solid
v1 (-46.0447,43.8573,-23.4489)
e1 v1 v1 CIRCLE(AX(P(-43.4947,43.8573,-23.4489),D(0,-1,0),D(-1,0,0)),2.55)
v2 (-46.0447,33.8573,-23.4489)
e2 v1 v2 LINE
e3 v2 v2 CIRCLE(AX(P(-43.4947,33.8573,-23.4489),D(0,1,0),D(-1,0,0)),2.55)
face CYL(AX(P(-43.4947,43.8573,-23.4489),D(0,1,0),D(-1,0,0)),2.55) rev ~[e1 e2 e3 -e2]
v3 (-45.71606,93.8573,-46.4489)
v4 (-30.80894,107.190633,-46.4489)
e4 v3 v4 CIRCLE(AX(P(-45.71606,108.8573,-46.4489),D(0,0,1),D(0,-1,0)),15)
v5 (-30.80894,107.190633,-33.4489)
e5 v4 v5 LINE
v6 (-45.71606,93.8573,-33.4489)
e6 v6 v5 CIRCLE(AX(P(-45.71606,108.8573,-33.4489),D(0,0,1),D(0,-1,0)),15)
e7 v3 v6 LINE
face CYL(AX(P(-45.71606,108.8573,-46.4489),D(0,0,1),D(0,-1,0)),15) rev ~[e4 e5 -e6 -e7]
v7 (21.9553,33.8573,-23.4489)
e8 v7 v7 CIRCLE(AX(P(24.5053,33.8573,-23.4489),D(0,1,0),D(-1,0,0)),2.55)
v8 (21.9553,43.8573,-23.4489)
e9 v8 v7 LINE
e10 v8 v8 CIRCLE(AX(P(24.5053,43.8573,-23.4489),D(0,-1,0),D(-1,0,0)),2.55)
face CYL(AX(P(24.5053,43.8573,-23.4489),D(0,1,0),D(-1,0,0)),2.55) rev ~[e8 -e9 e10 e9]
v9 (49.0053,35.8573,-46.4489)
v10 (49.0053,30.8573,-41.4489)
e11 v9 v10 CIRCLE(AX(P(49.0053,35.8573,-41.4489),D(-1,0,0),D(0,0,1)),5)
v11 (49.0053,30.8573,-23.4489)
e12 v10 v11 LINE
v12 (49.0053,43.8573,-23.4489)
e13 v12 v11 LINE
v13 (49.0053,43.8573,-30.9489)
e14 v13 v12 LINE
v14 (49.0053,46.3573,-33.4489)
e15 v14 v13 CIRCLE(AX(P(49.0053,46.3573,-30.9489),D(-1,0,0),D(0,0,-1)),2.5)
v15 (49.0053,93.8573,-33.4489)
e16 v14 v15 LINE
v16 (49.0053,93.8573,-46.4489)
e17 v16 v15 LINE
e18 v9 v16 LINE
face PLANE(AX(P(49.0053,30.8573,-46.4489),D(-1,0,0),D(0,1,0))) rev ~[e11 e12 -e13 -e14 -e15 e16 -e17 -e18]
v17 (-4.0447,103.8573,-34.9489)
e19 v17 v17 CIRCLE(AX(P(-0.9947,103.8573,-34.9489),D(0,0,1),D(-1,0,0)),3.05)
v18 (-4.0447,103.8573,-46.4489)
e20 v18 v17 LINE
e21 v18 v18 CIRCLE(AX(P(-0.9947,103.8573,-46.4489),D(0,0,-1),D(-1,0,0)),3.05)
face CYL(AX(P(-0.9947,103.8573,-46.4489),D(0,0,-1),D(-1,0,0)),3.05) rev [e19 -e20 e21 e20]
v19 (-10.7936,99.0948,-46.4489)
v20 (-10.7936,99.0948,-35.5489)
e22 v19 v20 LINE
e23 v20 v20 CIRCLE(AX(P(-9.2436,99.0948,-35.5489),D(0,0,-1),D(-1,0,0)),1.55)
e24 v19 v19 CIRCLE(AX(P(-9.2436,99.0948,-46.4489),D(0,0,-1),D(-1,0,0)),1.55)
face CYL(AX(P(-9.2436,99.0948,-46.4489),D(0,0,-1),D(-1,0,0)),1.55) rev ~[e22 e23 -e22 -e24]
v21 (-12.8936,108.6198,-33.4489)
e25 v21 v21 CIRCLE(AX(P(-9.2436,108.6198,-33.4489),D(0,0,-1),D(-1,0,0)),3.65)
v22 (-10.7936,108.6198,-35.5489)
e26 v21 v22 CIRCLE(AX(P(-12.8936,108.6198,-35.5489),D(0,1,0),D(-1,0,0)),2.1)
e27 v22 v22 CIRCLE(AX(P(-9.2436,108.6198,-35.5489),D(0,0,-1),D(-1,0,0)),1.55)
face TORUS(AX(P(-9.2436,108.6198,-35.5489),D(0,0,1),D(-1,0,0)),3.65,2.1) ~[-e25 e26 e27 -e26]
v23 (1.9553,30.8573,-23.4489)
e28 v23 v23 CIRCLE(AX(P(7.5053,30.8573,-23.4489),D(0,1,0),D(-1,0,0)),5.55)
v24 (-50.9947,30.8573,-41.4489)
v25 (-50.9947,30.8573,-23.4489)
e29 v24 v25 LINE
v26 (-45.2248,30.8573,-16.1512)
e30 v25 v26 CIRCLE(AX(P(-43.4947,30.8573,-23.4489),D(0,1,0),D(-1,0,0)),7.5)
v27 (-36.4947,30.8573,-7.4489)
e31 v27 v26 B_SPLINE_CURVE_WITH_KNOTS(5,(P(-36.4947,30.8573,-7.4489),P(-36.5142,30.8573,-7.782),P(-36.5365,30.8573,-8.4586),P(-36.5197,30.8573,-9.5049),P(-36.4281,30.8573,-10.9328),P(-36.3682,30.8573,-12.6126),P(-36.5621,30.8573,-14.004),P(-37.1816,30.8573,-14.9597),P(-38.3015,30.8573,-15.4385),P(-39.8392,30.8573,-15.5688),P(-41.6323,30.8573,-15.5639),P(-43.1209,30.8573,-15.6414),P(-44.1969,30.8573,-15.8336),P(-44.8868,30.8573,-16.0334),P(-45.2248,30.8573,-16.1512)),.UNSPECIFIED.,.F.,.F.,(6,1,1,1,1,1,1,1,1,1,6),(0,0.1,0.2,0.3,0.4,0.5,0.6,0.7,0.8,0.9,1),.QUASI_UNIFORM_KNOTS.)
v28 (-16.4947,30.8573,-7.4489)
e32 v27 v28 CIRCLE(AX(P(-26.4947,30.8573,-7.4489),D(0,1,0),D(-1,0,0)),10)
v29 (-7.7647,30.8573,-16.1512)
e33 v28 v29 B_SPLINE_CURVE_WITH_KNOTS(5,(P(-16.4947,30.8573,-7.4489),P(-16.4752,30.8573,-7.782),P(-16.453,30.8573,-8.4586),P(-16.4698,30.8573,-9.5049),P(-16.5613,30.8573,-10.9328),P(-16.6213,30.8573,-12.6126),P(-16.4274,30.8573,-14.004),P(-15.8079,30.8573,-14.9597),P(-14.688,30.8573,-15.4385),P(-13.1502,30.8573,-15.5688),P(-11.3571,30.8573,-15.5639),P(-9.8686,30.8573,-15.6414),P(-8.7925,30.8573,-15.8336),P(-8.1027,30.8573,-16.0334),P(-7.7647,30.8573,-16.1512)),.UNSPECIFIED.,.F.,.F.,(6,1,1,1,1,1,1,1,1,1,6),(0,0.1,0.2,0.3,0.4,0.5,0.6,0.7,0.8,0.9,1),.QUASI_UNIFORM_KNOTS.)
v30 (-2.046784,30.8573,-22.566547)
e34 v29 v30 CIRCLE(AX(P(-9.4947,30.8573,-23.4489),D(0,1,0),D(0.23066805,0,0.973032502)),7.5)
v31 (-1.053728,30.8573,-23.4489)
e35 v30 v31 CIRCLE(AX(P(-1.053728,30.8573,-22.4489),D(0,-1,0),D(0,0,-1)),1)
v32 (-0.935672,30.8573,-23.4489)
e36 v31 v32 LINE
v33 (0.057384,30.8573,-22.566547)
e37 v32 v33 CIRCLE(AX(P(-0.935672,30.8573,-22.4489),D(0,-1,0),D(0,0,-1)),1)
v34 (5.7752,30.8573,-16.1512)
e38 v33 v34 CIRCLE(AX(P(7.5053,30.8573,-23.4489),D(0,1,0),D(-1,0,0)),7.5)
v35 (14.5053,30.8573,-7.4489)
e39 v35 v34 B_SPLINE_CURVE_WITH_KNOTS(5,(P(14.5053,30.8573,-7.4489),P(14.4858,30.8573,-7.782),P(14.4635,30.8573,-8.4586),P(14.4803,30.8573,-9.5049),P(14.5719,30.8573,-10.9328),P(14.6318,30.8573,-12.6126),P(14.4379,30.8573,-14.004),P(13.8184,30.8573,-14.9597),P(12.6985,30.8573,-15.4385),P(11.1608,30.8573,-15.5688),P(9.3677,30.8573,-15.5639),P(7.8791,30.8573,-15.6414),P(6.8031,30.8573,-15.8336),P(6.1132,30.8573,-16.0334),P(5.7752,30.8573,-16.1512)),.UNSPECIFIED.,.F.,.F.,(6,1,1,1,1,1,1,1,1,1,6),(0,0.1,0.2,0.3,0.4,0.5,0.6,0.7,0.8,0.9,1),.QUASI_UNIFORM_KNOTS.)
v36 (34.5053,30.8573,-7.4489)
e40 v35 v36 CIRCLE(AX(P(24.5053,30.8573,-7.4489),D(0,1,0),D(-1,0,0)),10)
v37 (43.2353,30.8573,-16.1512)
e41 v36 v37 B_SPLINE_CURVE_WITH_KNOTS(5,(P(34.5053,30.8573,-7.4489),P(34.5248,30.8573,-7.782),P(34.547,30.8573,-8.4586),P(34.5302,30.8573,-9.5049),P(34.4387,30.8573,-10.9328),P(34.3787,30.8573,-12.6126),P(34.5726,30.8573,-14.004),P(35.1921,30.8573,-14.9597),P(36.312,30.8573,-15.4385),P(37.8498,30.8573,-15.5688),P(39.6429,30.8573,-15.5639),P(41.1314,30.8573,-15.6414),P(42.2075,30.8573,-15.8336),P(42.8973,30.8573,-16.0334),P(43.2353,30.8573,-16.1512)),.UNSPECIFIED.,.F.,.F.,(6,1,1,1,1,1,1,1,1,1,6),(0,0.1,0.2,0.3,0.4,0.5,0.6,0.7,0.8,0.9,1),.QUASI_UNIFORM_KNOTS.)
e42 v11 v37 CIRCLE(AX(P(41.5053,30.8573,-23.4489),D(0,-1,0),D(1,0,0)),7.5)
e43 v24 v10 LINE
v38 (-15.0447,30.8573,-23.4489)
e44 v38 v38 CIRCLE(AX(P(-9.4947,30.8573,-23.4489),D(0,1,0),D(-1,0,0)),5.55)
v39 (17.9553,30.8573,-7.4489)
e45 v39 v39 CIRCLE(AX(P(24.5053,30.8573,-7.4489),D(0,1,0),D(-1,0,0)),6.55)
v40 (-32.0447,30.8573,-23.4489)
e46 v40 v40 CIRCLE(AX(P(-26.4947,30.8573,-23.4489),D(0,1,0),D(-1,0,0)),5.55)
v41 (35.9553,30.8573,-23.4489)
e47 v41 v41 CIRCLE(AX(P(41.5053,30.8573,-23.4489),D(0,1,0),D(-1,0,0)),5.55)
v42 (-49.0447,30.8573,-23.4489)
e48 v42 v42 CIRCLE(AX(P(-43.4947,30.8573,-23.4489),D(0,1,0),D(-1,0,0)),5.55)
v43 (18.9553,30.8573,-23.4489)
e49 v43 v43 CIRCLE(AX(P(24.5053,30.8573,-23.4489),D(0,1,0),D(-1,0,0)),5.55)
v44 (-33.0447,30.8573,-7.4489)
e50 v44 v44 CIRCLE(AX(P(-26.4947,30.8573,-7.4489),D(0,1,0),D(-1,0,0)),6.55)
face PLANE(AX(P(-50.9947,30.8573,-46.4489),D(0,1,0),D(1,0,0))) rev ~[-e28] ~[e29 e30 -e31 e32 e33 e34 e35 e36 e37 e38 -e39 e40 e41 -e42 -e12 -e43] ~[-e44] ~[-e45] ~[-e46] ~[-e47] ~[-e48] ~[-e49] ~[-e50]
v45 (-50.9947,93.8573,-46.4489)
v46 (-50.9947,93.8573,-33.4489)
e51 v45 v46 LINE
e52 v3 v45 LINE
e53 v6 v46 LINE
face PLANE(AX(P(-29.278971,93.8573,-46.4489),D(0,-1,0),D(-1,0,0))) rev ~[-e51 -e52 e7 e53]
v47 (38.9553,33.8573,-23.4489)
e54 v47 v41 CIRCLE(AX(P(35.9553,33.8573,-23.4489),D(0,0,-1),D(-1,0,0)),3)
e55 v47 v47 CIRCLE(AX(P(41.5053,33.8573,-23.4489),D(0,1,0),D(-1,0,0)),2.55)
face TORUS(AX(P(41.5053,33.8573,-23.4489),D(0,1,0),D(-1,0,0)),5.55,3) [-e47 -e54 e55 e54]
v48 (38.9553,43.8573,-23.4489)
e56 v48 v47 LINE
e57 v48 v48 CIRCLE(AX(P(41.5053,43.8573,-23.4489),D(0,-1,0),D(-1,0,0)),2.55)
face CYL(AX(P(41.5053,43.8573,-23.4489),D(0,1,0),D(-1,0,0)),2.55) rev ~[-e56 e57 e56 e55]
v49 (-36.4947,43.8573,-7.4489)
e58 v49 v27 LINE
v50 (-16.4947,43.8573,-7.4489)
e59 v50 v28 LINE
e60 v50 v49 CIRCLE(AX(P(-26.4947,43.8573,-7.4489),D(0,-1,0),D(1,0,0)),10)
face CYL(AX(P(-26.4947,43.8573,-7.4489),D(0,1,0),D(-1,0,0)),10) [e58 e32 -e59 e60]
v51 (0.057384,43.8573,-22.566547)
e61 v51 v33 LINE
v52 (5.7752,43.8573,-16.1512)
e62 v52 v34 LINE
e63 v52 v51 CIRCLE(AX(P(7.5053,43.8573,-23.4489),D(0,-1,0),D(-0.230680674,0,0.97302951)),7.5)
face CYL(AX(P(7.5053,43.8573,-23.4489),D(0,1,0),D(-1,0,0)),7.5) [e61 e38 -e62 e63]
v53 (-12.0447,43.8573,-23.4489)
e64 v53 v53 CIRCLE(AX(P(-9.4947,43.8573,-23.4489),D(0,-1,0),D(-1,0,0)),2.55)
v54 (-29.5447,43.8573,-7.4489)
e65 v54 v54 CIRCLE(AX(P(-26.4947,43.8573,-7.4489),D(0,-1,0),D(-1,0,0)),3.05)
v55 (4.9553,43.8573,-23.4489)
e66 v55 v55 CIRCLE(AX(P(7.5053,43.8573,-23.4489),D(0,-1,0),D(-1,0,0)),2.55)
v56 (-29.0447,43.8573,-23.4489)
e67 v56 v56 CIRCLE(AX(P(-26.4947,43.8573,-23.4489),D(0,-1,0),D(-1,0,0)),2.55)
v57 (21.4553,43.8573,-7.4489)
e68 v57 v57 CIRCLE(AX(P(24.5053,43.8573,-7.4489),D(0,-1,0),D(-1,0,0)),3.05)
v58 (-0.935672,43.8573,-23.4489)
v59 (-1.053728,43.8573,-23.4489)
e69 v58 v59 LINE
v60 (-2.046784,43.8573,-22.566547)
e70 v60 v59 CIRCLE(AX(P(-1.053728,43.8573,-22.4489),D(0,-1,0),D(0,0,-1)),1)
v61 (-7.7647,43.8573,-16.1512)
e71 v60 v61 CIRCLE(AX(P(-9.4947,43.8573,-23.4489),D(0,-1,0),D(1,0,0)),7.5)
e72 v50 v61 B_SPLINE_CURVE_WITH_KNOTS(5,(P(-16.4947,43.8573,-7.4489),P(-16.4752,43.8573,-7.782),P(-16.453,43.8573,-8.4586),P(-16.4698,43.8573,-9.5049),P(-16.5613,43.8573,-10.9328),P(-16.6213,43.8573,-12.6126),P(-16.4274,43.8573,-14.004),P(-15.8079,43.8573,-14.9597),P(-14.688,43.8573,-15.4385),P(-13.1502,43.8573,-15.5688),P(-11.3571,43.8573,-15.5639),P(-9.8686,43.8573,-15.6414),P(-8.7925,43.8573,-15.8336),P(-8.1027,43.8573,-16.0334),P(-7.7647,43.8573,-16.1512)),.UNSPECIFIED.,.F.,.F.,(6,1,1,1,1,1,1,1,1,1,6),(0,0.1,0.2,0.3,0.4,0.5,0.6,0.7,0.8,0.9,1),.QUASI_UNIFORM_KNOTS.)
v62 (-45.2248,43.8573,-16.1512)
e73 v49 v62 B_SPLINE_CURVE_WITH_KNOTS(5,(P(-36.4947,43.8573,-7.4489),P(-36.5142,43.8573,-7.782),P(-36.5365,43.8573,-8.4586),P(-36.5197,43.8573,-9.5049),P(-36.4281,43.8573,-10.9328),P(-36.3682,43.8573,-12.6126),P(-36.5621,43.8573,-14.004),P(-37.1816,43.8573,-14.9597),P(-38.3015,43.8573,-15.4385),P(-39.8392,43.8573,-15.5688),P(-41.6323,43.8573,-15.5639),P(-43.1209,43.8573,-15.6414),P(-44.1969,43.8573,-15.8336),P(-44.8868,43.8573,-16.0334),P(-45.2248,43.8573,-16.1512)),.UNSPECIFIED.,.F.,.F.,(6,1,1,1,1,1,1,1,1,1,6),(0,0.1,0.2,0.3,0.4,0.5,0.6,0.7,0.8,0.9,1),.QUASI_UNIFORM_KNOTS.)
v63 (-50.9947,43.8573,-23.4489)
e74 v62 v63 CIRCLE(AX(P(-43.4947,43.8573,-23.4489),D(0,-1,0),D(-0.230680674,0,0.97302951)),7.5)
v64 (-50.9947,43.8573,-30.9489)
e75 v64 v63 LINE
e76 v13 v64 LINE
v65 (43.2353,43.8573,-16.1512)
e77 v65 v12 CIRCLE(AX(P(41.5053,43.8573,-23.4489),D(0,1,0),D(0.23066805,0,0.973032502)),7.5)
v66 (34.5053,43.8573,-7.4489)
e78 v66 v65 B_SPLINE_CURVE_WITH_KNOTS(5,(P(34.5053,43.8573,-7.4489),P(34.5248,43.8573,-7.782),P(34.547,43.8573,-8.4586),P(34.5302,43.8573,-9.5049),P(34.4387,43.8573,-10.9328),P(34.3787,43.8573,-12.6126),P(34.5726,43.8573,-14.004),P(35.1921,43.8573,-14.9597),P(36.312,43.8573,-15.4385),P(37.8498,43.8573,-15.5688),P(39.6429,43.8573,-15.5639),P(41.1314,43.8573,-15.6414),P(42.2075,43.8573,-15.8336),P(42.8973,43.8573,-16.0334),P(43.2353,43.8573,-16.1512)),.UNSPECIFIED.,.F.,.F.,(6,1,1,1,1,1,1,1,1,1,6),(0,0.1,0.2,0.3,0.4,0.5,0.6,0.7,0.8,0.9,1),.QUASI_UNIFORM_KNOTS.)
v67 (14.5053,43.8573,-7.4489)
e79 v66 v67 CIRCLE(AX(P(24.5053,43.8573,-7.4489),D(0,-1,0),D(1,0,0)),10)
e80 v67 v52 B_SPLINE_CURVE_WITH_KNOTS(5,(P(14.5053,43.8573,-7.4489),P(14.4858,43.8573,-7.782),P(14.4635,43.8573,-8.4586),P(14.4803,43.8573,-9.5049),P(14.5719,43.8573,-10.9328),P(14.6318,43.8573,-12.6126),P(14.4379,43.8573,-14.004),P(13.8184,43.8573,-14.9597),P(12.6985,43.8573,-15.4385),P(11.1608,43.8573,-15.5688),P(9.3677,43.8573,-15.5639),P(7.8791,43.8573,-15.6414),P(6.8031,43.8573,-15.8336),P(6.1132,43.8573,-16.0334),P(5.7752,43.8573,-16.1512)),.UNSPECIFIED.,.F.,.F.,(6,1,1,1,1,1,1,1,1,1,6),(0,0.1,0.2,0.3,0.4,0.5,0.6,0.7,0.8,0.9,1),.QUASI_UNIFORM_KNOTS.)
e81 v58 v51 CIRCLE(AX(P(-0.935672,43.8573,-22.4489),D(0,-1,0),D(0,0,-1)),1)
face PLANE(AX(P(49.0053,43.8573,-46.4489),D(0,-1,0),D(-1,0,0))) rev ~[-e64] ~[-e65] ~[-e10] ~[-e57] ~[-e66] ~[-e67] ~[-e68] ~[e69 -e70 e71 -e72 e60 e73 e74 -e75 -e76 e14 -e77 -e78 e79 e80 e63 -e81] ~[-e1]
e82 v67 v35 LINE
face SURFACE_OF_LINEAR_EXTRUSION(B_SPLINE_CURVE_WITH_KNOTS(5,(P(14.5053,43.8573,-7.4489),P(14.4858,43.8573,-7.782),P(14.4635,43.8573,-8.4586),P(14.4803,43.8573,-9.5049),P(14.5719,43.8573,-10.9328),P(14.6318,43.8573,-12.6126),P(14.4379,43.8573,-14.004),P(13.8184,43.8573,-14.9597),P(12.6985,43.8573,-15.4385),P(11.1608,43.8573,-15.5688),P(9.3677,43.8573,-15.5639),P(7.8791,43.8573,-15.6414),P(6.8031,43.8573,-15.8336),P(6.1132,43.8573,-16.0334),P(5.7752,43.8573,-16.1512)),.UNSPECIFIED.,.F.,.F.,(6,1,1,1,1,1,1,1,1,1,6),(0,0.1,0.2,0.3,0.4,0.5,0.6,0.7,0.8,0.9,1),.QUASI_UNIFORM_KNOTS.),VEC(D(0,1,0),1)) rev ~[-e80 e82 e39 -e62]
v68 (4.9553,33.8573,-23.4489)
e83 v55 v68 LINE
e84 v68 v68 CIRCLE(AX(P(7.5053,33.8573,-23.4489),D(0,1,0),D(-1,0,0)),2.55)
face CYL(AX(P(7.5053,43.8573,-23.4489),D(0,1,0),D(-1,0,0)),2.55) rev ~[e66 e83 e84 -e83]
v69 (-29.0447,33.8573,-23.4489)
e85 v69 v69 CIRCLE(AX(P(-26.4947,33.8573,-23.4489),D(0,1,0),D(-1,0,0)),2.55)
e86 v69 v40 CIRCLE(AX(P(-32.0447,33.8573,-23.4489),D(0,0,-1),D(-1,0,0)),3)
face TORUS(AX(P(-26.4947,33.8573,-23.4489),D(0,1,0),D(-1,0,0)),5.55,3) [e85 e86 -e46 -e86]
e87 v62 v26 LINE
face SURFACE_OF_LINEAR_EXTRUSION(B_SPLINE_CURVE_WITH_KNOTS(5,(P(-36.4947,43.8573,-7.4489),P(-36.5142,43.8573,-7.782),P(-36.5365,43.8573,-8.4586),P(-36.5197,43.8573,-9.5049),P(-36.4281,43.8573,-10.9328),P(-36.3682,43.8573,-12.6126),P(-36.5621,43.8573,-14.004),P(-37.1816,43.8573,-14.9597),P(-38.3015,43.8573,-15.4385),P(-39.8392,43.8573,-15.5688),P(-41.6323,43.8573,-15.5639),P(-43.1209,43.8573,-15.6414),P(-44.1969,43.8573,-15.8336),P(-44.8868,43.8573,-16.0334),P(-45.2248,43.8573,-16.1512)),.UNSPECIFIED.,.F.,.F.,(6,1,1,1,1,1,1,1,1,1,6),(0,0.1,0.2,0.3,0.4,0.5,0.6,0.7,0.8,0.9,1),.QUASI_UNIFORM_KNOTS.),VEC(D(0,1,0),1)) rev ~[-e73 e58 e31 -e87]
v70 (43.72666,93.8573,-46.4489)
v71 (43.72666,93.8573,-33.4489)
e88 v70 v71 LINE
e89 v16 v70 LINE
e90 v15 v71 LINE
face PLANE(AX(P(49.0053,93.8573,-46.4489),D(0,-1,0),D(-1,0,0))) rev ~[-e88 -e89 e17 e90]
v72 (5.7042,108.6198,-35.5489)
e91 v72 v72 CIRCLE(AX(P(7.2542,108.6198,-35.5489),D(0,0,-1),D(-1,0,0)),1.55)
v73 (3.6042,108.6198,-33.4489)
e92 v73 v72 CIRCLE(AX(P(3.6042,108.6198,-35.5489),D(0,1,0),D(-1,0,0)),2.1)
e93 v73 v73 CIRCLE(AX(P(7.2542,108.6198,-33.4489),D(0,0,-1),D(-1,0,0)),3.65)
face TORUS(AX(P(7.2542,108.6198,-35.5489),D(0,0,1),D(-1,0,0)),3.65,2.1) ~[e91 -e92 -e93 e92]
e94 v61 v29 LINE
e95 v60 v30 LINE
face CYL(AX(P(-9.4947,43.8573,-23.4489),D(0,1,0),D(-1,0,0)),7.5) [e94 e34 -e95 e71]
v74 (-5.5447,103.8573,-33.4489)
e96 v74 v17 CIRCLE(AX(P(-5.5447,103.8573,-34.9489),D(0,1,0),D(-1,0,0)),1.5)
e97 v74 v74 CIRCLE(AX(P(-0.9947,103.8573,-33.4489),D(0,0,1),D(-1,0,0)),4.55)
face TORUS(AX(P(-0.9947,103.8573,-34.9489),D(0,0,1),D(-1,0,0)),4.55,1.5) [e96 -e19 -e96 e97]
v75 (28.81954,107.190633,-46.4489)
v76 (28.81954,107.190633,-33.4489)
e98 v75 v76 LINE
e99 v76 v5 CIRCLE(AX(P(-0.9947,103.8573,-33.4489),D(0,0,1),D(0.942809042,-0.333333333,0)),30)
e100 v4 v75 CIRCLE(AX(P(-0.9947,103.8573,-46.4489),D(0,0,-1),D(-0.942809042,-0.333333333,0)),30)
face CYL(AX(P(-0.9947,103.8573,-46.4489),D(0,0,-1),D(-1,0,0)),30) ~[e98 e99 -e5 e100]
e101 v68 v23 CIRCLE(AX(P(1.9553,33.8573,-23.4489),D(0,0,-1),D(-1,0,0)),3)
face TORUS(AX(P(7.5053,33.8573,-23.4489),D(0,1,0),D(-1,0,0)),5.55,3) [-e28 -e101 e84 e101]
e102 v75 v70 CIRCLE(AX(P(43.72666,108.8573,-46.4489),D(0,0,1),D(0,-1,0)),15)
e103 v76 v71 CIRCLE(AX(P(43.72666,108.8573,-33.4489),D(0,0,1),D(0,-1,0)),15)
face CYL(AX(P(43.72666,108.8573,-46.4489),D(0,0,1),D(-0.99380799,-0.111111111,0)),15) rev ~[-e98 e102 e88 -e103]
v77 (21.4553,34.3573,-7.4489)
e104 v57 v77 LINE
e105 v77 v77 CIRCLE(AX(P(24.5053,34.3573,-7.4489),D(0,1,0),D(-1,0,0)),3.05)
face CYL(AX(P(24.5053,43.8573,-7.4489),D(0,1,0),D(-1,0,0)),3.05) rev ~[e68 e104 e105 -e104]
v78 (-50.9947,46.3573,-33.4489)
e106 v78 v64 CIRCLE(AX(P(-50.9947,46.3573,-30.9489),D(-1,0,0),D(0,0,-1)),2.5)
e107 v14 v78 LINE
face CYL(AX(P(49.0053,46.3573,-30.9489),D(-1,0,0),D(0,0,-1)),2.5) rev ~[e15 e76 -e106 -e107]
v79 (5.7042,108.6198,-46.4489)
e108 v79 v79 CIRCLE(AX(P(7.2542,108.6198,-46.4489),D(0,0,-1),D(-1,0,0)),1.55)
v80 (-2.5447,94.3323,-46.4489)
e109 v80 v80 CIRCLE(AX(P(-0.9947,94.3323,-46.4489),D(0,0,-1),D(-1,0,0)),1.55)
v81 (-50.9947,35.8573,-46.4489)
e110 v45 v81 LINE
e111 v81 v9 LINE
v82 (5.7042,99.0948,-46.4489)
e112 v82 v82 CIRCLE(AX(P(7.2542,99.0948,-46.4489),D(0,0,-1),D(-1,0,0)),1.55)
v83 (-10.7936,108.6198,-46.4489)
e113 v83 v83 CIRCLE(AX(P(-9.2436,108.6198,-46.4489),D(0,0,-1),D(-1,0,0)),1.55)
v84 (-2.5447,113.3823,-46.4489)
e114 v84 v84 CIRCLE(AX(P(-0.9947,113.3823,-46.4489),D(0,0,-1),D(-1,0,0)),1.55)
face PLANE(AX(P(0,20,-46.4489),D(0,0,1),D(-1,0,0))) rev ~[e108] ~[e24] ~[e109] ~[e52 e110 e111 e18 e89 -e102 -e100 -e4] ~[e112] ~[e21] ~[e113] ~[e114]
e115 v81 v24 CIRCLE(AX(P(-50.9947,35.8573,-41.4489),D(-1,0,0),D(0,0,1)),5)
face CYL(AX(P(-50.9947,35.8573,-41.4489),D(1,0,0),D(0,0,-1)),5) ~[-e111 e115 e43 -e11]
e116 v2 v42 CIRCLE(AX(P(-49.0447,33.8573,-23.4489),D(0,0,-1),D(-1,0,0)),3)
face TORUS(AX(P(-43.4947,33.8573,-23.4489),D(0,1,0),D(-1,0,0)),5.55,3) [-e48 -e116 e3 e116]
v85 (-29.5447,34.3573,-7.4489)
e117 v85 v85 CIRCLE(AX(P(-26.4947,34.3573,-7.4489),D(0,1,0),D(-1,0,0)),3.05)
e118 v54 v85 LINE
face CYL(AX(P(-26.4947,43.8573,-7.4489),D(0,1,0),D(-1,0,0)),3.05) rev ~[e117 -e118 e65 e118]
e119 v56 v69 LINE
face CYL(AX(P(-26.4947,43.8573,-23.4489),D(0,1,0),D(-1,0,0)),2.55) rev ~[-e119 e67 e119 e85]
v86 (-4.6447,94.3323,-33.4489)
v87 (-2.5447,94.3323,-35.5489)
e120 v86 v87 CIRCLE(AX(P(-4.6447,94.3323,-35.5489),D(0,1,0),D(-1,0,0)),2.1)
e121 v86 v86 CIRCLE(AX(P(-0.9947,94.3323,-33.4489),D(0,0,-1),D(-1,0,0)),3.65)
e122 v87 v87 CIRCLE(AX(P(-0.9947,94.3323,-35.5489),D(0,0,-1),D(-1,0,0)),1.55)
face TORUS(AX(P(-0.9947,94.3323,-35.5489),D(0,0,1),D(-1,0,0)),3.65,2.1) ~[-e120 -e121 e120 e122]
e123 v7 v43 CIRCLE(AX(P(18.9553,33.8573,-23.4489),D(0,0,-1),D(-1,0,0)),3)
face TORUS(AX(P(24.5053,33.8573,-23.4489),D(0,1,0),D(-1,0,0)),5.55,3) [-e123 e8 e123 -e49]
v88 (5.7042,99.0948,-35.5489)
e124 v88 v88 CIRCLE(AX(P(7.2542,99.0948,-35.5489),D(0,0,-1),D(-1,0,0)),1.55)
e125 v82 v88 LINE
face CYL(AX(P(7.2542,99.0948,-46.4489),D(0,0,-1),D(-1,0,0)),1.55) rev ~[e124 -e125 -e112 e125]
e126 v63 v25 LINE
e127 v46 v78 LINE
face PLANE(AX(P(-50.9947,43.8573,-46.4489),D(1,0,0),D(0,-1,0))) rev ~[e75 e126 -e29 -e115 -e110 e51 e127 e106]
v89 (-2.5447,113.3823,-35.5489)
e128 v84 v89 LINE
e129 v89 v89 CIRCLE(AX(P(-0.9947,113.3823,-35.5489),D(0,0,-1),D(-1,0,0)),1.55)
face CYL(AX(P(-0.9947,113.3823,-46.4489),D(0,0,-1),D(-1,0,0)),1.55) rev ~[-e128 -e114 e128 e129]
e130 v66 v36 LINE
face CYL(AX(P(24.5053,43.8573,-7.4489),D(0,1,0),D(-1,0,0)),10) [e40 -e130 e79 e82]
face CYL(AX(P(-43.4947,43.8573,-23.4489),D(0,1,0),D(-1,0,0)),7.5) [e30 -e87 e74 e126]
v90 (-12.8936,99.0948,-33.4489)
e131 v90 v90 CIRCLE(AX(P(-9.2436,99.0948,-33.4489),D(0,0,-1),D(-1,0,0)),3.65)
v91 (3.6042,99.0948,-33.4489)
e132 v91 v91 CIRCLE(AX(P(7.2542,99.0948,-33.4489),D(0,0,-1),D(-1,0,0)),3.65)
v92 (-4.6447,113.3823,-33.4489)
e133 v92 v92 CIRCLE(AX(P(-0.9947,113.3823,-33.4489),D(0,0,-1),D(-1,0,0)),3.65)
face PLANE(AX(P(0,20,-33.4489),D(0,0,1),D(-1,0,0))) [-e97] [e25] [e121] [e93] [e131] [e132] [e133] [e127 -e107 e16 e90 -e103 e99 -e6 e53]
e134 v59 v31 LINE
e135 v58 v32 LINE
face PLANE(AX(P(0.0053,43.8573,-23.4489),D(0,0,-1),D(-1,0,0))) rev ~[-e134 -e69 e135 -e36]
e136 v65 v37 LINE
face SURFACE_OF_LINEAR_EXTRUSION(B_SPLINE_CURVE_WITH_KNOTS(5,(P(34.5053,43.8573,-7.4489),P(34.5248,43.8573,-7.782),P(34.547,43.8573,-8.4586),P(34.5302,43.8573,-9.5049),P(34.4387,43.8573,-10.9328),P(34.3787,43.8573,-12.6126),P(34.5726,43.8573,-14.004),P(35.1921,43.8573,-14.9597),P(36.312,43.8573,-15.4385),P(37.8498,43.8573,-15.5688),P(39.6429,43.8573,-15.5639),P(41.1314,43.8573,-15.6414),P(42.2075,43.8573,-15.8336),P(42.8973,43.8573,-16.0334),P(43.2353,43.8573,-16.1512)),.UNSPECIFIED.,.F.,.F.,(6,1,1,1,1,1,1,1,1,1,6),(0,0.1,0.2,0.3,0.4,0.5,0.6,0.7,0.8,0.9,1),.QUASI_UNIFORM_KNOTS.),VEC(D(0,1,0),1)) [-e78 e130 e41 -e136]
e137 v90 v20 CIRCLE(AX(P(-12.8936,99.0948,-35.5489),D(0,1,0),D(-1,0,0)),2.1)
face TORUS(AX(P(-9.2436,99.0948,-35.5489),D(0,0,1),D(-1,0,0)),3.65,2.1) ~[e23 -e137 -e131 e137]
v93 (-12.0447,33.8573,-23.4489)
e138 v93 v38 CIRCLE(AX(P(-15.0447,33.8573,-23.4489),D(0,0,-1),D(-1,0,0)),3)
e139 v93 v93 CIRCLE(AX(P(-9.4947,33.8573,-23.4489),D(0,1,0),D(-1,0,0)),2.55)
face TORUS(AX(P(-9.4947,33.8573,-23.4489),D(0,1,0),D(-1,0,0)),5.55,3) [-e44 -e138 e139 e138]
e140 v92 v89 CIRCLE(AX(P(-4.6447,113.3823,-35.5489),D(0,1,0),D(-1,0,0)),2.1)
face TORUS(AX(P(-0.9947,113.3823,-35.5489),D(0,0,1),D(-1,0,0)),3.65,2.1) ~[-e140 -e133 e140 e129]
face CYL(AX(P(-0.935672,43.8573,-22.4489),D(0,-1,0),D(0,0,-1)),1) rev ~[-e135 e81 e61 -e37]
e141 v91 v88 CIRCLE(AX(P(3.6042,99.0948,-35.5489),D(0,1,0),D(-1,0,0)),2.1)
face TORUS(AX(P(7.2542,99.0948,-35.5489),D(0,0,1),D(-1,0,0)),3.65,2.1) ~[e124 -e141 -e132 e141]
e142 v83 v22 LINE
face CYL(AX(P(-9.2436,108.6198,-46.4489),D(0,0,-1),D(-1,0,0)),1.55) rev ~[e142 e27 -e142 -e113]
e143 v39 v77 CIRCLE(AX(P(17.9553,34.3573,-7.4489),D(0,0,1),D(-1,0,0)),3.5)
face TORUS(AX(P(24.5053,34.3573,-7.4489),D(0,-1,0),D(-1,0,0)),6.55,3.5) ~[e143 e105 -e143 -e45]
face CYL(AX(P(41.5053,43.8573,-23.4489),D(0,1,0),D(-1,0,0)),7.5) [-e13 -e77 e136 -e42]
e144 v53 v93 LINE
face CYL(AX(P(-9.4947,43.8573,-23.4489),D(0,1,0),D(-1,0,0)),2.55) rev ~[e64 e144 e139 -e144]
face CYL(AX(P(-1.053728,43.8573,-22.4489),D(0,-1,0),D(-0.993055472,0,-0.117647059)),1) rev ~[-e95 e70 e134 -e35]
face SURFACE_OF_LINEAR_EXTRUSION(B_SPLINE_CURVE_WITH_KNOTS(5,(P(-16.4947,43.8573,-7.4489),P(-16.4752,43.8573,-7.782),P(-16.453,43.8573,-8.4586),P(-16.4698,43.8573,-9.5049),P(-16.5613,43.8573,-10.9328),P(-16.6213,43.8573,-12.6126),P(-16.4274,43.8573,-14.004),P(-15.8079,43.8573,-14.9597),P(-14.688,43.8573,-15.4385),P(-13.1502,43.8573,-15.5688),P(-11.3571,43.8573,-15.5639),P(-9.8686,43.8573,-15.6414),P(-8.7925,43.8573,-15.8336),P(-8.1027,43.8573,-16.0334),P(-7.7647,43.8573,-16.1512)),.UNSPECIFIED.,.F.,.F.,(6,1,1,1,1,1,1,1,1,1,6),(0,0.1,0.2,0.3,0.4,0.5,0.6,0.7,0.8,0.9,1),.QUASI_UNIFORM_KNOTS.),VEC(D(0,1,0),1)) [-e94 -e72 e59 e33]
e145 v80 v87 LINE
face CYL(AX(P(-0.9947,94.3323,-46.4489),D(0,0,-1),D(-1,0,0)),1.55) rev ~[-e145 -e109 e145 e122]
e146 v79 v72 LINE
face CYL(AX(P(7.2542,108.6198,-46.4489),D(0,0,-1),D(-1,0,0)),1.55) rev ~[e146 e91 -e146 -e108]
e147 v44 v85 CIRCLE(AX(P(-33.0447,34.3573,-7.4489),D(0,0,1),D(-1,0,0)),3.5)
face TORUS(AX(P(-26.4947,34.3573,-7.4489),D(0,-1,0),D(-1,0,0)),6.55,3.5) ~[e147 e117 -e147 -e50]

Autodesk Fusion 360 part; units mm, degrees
sketch "Sketch1" plane through (0, 20, -46.4489) normal (0, 0, 1) x (-1, 0, 0)
  circle A0 centre (0.9947, -83.8573) radius 3
  circle A1 centre (0.9947, -83.8573) radius 6
  circle A2 centre (0.9947, -83.8573) radius 6
  circle A3 centre (0.9947, -83.8573) radius 3.05
  circle A4 centre (0.9947, -83.8573) radius 30
  line L0 (50.9947, -10.8573) -> (-49.0053, -10.8573)
  line L1 (-49.0053, -10.8573) -> (-49.0053, -83.8573)
  line L2 (-49.0053, -83.8573) -> (50.9947, -83.8573)
  line L3 (50.9947, -83.8573) -> (50.9947, -10.8573)
  line L4 (50.9947, -10.8573) -> (-49.0053, -83.8573) construction
  line L5 (-49.0053, -10.8573) -> (50.9947, -83.8573) construction
  line L6 (-49.0053, -23.8573) -> (50.9947, -23.8573)
  line L7 (-49.0053, -73.8573) -> (50.9947, -73.8573)
  point P0 (0.9947, -47.3573)
  dimension "d70" = 60
  dimension "d111" = 12
  dimension "d208" = 50
  dimension "d209" = 100
  dimension "d210" = 13
  dimension "d6" = 6.1
  dimension "d18" = 60
  dimension "d19" = 10
extrude "Extrude1" add sketch "Sketch1" along normal blind 13 contours A1 A2 A3 L2 | A1 A2 A3 L2 | A1 A2 A4 L2 | A1 A2 A4 L2 L7 | A4 L7 | A4 L1 L3 L6 L7
extrude "Extrude6" add sketch "Sketch1" along normal blind 53 contours L0 L1 L3 L6
sketch "Sketch2" plane through (0, 43.8573, 0) normal (0, 1, 0) x (-1, 0, 0)
  line L0 (-49.0053, -33.4489) -> (50.9947, -33.4489)
  line L1 (50.9947, -33.4489) -> (50.9947, 6.5511)
  line L2 (50.9947, 6.5511) -> (-49.0053, 6.5511)
  line L3 (-49.0053, 6.5511) -> (-49.0053, -33.4489)
  line L4 (0.9947, -100) -> (0.9947, 25)
  circle A0 centre (43.4947, -23.4489) radius 2.55
  circle A1 centre (43.4947, -23.4489) radius 7.5
  line L5 (50.9947, -33.4489) -> (-49.0053, -33.4489)
  line L6 (-49.0053, -33.4489) -> (-49.0053, 6.5511)
  line L7 (-49.0053, 6.5511) -> (50.9947, 6.5511)
  line L8 (50.9947, 6.5511) -> (50.9947, -33.4489)
  circle A2 centre (26.4947, -23.4489) radius 7.5
  circle A3 centre (26.4947, -23.4489) radius 2.55
  circle A4 centre (9.4947, -23.4489) radius 7.5
  circle A5 centre (9.4947, -23.4489) radius 2.55
  line L9 (50.9947, -23.4489) -> (0.9947, -23.4489)
  circle A6 centre (-41.5053, -23.4489) radius 7.5
  circle A7 centre (-41.5053, -23.4489) radius 2.55
  line L10 (-49.0053, -23.4489) -> (0.9947, -23.4489)
  circle A8 centre (-24.5053, -23.4489) radius 7.5
  circle A9 centre (-24.5053, -23.4489) radius 2.55
  circle A10 centre (-7.5053, -23.4489) radius 7.5
  circle A11 centre (-7.5053, -23.4489) radius 2.55
  circle A12 centre (26.4947, -7.4489) radius 3.05
  circle A13 centre (26.4947, -7.4489) radius 10
  line L11 (50.9947, -7.4489) -> (0.9947, -7.4489)
  spline S0 degree 5 poles (36.4947, -7.4489) (36.5142, -7.782) (36.5365, -8.4586) (36.5197, -9.5049) (36.4281, -10.9328) (36.3682, -12.6126) (36.5621, -14.004) (37.1816, -14.9597) (38.3015, -15.4385) (39.8392, -15.5688) (41.6323, -15.5639) (43.1209, -15.6414) (44.1969, -15.8336) (44.8868, -16.0334) (45.2248, -16.1512) knots 0 0 0 0 0 0 0.1 0.2 0.3 0.4 0.5 0.6 0.7 0.8 0.9 1 1 1 1 1 1
  line L12 (26.4947, -23.4489) -> (26.4947, -7.4489) construction
  spline S1 degree 5 poles (16.4947, -7.4489) (16.4752, -7.782) (16.453, -8.4586) (16.4698, -9.5049) (16.5613, -10.9328) (16.6213, -12.6126) (16.4274, -14.004) (15.8079, -14.9597) (14.688, -15.4385) (13.1502, -15.5688) (11.3571, -15.5639) (9.8686, -15.6414) (8.7925, -15.8336) (8.1027, -16.0334) (7.7647, -16.1512) knots 0 0 0 0 0 0 0.1 0.2 0.3 0.4 0.5 0.6 0.7 0.8 0.9 1 1 1 1 1 1
  line L13 (36.3896, -5.6527) -> (36.5999, -9.2451)
  line L14 (43.5142, -15.5551) -> (46.9353, -16.7473)
  line L15 (16.5999, -5.6527) -> (16.3896, -9.2451)
  line L16 (9.4753, -15.5551) -> (6.0541, -16.7473)
  circle A14 centre (-24.5053, -7.4489) radius 10
  circle A15 centre (-24.5053, -7.4489) radius 3.05
  line L17 (-49.0053, -7.4489) -> (0.9947, -7.4489)
  spline S2 degree 5 poles (-14.5053, -7.4489) (-14.4858, -7.782) (-14.4635, -8.4586) (-14.4803, -9.5049) (-14.5719, -10.9328) (-14.6318, -12.6126) (-14.4379, -14.004) (-13.8184, -14.9597) (-12.6985, -15.4385) (-11.1608, -15.5688) (-9.3677, -15.5639) (-7.8791, -15.6414) (-6.8031, -15.8336) (-6.1132, -16.0334) (-5.7752, -16.1512) knots 0 0 0 0 0 0 0.1 0.2 0.3 0.4 0.5 0.6 0.7 0.8 0.9 1 1 1 1 1 1
  line L18 (-14.6104, -5.6527) -> (-14.4001, -9.2451)
  line L19 (-7.4858, -15.5551) -> (-4.0647, -16.7473)
  spline S3 degree 5 poles (-34.5053, -7.4489) (-34.5248, -7.782) (-34.547, -8.4586) (-34.5302, -9.5049) (-34.4387, -10.9328) (-34.3787, -12.6126) (-34.5726, -14.004) (-35.1921, -14.9597) (-36.312, -15.4385) (-37.8498, -15.5688) (-39.6429, -15.5639) (-41.1314, -15.6414) (-42.2075, -15.8336) (-42.8973, -16.0334) (-43.2353, -16.1512) knots 0 0 0 0 0 0 0.1 0.2 0.3 0.4 0.5 0.6 0.7 0.8 0.9 1 1 1 1 1 1
  line L20 (-34.4001, -5.6527) -> (-34.6104, -9.2451)
  line L21 (-41.5247, -15.5551) -> (-44.9459, -16.7473)
  line L22 (45.2248, -16.1512) -> (36.4947, -7.4489) construction
  line L23 (40.8598, -11.8001) -> (26.4947, -23.4489) construction
  point P0 (0.9947, -46.4489)
  point P1 (37.2113, -14.7587)
  point P2 (15.7782, -14.7587)
  point P3 (-13.7887, -14.7587)
  point P4 (-35.2218, -14.7587)
  dimension "d232" = 5.1
  dimension "d233" = 15
  dimension "d234" = 10
  dimension "d237" = -34
  dimension "d238" = 0
  dimension "d239" = 6.1
  dimension "d240" = 20
  dimension "d241" = 16
extrude "Extrude9" cut sketch "Sketch2" against normal up to surface (13 mm away) contours L3 L6 A6 L17 S3 | L4 L10 A10 L17 S2 | L4 A4 L9 L11 S1 | L2 L3 L4 L6 L7 A14 L17 | A7 L10 | A7 L10 | L1 A1 L8 L11 S0 | L1 L2 L4 L7 L8 A13 L11 | A0 L9 | A0 L9 | A5 L9 | A5 L9 | L10 A11 | L10 A11 | A15 L17 | A15 L17 | L10 A9 | L10 A9 | A12 L11 | A12 L11 | A3 L9 | A3 L9
fillet "Fillet3" radius 1 2 edges at (-1.9947, 37.3573, -23.4489) (0.0053, 37.3573, -23.4489)
fillet "Fillet4" radius 3 6 edges at (43.8827, 30.8573, -24.371) (26.8827, 30.8573, -24.371) (9.8827, 30.8573, -24.371) (-7.1173, 30.8573, -24.371) (-24.1173, 30.8573, -24.371) (-41.1173, 30.8573, -24.371)
fillet "Fillet5" radius 3.5 2 edges at (27.3489, 30.8573, -8.5519) (-23.6511, 30.8573, -8.5519)
sketch "Sketch3" plane through (0, 0, -46.4489) normal (0, 0, -1) x (-1, 0, 0)
  line L0 (-49.0053, 93.8573) -> (-49.0053, 30.8573)
  line L1 (-49.0053, 30.8573) -> (50.9947, 30.8573)
  line L2 (50.9947, 30.8573) -> (50.9947, 93.8573)
  line L3 (50.9947, 93.8573) -> (29.279, 93.8573)
  arc A0 (29.279, 93.8573) -> (-27.2895, 93.8573) centre (0.9947, 103.8573) ccw
  line L4 (-27.2895, 93.8573) -> (-49.0053, 93.8573)
  circle A1 centre (0.9947, 103.8573) radius 9.525 construction
  line L5 (0.9947, 117.0724) -> (0.9947, 116)
  line L6 (0.9947, 116) -> (0.9947, 91) construction
  circle A2 centre (0.9947, 113.3823) radius 1.55
  circle A3 centre (-7.2542, 108.6198) radius 1.55
  circle A4 centre (-7.2542, 99.0948) radius 1.55
  circle A5 centre (0.9947, 94.3323) radius 1.55
  circle A6 centre (9.2436, 99.0948) radius 1.55
  circle A7 centre (9.2436, 108.6198) radius 1.55
  circle A8 centre (0.9947, 103.8573) radius 3.05
  dimension "d8" = 19.05
  dimension "d9" = 3.1
  dimension "d11" = 360
extrude "Extrude10" cut sketch "Sketch3" against normal blind 15 contours A2 | A3 | A4 | A5 | A6 | A7
fillet "Fillet6" radius 2.1 6 edges at (8.6993, 98.5343, -33.4489) (0.4504, 93.7718, -33.4489) (-7.7985, 98.5343, -33.4489) (-7.7985, 108.0593, -33.4489) (0.4504, 112.8218, -33.4489) (8.6993, 108.0593, -33.4489)
fillet "Fillet6" radius 1.5 1 edges at (1.8489, 102.7544, -33.4489)
fillet "Fillet7" radius 15 2 edges at (27.2895, 93.8573, -39.9489) (-29.279, 93.8573, -39.9489)
fillet "Fillet8" radius 2.5 1 edges at (-0.9947, 43.8573, -33.4489)
fillet "Fillet9" radius 5 1 edges at (-0.9947, 30.8573, -46.4489)
equation "d209 = d208 * 2"
equation "d18 = 1 cm + 4 cm + 1 cm"
